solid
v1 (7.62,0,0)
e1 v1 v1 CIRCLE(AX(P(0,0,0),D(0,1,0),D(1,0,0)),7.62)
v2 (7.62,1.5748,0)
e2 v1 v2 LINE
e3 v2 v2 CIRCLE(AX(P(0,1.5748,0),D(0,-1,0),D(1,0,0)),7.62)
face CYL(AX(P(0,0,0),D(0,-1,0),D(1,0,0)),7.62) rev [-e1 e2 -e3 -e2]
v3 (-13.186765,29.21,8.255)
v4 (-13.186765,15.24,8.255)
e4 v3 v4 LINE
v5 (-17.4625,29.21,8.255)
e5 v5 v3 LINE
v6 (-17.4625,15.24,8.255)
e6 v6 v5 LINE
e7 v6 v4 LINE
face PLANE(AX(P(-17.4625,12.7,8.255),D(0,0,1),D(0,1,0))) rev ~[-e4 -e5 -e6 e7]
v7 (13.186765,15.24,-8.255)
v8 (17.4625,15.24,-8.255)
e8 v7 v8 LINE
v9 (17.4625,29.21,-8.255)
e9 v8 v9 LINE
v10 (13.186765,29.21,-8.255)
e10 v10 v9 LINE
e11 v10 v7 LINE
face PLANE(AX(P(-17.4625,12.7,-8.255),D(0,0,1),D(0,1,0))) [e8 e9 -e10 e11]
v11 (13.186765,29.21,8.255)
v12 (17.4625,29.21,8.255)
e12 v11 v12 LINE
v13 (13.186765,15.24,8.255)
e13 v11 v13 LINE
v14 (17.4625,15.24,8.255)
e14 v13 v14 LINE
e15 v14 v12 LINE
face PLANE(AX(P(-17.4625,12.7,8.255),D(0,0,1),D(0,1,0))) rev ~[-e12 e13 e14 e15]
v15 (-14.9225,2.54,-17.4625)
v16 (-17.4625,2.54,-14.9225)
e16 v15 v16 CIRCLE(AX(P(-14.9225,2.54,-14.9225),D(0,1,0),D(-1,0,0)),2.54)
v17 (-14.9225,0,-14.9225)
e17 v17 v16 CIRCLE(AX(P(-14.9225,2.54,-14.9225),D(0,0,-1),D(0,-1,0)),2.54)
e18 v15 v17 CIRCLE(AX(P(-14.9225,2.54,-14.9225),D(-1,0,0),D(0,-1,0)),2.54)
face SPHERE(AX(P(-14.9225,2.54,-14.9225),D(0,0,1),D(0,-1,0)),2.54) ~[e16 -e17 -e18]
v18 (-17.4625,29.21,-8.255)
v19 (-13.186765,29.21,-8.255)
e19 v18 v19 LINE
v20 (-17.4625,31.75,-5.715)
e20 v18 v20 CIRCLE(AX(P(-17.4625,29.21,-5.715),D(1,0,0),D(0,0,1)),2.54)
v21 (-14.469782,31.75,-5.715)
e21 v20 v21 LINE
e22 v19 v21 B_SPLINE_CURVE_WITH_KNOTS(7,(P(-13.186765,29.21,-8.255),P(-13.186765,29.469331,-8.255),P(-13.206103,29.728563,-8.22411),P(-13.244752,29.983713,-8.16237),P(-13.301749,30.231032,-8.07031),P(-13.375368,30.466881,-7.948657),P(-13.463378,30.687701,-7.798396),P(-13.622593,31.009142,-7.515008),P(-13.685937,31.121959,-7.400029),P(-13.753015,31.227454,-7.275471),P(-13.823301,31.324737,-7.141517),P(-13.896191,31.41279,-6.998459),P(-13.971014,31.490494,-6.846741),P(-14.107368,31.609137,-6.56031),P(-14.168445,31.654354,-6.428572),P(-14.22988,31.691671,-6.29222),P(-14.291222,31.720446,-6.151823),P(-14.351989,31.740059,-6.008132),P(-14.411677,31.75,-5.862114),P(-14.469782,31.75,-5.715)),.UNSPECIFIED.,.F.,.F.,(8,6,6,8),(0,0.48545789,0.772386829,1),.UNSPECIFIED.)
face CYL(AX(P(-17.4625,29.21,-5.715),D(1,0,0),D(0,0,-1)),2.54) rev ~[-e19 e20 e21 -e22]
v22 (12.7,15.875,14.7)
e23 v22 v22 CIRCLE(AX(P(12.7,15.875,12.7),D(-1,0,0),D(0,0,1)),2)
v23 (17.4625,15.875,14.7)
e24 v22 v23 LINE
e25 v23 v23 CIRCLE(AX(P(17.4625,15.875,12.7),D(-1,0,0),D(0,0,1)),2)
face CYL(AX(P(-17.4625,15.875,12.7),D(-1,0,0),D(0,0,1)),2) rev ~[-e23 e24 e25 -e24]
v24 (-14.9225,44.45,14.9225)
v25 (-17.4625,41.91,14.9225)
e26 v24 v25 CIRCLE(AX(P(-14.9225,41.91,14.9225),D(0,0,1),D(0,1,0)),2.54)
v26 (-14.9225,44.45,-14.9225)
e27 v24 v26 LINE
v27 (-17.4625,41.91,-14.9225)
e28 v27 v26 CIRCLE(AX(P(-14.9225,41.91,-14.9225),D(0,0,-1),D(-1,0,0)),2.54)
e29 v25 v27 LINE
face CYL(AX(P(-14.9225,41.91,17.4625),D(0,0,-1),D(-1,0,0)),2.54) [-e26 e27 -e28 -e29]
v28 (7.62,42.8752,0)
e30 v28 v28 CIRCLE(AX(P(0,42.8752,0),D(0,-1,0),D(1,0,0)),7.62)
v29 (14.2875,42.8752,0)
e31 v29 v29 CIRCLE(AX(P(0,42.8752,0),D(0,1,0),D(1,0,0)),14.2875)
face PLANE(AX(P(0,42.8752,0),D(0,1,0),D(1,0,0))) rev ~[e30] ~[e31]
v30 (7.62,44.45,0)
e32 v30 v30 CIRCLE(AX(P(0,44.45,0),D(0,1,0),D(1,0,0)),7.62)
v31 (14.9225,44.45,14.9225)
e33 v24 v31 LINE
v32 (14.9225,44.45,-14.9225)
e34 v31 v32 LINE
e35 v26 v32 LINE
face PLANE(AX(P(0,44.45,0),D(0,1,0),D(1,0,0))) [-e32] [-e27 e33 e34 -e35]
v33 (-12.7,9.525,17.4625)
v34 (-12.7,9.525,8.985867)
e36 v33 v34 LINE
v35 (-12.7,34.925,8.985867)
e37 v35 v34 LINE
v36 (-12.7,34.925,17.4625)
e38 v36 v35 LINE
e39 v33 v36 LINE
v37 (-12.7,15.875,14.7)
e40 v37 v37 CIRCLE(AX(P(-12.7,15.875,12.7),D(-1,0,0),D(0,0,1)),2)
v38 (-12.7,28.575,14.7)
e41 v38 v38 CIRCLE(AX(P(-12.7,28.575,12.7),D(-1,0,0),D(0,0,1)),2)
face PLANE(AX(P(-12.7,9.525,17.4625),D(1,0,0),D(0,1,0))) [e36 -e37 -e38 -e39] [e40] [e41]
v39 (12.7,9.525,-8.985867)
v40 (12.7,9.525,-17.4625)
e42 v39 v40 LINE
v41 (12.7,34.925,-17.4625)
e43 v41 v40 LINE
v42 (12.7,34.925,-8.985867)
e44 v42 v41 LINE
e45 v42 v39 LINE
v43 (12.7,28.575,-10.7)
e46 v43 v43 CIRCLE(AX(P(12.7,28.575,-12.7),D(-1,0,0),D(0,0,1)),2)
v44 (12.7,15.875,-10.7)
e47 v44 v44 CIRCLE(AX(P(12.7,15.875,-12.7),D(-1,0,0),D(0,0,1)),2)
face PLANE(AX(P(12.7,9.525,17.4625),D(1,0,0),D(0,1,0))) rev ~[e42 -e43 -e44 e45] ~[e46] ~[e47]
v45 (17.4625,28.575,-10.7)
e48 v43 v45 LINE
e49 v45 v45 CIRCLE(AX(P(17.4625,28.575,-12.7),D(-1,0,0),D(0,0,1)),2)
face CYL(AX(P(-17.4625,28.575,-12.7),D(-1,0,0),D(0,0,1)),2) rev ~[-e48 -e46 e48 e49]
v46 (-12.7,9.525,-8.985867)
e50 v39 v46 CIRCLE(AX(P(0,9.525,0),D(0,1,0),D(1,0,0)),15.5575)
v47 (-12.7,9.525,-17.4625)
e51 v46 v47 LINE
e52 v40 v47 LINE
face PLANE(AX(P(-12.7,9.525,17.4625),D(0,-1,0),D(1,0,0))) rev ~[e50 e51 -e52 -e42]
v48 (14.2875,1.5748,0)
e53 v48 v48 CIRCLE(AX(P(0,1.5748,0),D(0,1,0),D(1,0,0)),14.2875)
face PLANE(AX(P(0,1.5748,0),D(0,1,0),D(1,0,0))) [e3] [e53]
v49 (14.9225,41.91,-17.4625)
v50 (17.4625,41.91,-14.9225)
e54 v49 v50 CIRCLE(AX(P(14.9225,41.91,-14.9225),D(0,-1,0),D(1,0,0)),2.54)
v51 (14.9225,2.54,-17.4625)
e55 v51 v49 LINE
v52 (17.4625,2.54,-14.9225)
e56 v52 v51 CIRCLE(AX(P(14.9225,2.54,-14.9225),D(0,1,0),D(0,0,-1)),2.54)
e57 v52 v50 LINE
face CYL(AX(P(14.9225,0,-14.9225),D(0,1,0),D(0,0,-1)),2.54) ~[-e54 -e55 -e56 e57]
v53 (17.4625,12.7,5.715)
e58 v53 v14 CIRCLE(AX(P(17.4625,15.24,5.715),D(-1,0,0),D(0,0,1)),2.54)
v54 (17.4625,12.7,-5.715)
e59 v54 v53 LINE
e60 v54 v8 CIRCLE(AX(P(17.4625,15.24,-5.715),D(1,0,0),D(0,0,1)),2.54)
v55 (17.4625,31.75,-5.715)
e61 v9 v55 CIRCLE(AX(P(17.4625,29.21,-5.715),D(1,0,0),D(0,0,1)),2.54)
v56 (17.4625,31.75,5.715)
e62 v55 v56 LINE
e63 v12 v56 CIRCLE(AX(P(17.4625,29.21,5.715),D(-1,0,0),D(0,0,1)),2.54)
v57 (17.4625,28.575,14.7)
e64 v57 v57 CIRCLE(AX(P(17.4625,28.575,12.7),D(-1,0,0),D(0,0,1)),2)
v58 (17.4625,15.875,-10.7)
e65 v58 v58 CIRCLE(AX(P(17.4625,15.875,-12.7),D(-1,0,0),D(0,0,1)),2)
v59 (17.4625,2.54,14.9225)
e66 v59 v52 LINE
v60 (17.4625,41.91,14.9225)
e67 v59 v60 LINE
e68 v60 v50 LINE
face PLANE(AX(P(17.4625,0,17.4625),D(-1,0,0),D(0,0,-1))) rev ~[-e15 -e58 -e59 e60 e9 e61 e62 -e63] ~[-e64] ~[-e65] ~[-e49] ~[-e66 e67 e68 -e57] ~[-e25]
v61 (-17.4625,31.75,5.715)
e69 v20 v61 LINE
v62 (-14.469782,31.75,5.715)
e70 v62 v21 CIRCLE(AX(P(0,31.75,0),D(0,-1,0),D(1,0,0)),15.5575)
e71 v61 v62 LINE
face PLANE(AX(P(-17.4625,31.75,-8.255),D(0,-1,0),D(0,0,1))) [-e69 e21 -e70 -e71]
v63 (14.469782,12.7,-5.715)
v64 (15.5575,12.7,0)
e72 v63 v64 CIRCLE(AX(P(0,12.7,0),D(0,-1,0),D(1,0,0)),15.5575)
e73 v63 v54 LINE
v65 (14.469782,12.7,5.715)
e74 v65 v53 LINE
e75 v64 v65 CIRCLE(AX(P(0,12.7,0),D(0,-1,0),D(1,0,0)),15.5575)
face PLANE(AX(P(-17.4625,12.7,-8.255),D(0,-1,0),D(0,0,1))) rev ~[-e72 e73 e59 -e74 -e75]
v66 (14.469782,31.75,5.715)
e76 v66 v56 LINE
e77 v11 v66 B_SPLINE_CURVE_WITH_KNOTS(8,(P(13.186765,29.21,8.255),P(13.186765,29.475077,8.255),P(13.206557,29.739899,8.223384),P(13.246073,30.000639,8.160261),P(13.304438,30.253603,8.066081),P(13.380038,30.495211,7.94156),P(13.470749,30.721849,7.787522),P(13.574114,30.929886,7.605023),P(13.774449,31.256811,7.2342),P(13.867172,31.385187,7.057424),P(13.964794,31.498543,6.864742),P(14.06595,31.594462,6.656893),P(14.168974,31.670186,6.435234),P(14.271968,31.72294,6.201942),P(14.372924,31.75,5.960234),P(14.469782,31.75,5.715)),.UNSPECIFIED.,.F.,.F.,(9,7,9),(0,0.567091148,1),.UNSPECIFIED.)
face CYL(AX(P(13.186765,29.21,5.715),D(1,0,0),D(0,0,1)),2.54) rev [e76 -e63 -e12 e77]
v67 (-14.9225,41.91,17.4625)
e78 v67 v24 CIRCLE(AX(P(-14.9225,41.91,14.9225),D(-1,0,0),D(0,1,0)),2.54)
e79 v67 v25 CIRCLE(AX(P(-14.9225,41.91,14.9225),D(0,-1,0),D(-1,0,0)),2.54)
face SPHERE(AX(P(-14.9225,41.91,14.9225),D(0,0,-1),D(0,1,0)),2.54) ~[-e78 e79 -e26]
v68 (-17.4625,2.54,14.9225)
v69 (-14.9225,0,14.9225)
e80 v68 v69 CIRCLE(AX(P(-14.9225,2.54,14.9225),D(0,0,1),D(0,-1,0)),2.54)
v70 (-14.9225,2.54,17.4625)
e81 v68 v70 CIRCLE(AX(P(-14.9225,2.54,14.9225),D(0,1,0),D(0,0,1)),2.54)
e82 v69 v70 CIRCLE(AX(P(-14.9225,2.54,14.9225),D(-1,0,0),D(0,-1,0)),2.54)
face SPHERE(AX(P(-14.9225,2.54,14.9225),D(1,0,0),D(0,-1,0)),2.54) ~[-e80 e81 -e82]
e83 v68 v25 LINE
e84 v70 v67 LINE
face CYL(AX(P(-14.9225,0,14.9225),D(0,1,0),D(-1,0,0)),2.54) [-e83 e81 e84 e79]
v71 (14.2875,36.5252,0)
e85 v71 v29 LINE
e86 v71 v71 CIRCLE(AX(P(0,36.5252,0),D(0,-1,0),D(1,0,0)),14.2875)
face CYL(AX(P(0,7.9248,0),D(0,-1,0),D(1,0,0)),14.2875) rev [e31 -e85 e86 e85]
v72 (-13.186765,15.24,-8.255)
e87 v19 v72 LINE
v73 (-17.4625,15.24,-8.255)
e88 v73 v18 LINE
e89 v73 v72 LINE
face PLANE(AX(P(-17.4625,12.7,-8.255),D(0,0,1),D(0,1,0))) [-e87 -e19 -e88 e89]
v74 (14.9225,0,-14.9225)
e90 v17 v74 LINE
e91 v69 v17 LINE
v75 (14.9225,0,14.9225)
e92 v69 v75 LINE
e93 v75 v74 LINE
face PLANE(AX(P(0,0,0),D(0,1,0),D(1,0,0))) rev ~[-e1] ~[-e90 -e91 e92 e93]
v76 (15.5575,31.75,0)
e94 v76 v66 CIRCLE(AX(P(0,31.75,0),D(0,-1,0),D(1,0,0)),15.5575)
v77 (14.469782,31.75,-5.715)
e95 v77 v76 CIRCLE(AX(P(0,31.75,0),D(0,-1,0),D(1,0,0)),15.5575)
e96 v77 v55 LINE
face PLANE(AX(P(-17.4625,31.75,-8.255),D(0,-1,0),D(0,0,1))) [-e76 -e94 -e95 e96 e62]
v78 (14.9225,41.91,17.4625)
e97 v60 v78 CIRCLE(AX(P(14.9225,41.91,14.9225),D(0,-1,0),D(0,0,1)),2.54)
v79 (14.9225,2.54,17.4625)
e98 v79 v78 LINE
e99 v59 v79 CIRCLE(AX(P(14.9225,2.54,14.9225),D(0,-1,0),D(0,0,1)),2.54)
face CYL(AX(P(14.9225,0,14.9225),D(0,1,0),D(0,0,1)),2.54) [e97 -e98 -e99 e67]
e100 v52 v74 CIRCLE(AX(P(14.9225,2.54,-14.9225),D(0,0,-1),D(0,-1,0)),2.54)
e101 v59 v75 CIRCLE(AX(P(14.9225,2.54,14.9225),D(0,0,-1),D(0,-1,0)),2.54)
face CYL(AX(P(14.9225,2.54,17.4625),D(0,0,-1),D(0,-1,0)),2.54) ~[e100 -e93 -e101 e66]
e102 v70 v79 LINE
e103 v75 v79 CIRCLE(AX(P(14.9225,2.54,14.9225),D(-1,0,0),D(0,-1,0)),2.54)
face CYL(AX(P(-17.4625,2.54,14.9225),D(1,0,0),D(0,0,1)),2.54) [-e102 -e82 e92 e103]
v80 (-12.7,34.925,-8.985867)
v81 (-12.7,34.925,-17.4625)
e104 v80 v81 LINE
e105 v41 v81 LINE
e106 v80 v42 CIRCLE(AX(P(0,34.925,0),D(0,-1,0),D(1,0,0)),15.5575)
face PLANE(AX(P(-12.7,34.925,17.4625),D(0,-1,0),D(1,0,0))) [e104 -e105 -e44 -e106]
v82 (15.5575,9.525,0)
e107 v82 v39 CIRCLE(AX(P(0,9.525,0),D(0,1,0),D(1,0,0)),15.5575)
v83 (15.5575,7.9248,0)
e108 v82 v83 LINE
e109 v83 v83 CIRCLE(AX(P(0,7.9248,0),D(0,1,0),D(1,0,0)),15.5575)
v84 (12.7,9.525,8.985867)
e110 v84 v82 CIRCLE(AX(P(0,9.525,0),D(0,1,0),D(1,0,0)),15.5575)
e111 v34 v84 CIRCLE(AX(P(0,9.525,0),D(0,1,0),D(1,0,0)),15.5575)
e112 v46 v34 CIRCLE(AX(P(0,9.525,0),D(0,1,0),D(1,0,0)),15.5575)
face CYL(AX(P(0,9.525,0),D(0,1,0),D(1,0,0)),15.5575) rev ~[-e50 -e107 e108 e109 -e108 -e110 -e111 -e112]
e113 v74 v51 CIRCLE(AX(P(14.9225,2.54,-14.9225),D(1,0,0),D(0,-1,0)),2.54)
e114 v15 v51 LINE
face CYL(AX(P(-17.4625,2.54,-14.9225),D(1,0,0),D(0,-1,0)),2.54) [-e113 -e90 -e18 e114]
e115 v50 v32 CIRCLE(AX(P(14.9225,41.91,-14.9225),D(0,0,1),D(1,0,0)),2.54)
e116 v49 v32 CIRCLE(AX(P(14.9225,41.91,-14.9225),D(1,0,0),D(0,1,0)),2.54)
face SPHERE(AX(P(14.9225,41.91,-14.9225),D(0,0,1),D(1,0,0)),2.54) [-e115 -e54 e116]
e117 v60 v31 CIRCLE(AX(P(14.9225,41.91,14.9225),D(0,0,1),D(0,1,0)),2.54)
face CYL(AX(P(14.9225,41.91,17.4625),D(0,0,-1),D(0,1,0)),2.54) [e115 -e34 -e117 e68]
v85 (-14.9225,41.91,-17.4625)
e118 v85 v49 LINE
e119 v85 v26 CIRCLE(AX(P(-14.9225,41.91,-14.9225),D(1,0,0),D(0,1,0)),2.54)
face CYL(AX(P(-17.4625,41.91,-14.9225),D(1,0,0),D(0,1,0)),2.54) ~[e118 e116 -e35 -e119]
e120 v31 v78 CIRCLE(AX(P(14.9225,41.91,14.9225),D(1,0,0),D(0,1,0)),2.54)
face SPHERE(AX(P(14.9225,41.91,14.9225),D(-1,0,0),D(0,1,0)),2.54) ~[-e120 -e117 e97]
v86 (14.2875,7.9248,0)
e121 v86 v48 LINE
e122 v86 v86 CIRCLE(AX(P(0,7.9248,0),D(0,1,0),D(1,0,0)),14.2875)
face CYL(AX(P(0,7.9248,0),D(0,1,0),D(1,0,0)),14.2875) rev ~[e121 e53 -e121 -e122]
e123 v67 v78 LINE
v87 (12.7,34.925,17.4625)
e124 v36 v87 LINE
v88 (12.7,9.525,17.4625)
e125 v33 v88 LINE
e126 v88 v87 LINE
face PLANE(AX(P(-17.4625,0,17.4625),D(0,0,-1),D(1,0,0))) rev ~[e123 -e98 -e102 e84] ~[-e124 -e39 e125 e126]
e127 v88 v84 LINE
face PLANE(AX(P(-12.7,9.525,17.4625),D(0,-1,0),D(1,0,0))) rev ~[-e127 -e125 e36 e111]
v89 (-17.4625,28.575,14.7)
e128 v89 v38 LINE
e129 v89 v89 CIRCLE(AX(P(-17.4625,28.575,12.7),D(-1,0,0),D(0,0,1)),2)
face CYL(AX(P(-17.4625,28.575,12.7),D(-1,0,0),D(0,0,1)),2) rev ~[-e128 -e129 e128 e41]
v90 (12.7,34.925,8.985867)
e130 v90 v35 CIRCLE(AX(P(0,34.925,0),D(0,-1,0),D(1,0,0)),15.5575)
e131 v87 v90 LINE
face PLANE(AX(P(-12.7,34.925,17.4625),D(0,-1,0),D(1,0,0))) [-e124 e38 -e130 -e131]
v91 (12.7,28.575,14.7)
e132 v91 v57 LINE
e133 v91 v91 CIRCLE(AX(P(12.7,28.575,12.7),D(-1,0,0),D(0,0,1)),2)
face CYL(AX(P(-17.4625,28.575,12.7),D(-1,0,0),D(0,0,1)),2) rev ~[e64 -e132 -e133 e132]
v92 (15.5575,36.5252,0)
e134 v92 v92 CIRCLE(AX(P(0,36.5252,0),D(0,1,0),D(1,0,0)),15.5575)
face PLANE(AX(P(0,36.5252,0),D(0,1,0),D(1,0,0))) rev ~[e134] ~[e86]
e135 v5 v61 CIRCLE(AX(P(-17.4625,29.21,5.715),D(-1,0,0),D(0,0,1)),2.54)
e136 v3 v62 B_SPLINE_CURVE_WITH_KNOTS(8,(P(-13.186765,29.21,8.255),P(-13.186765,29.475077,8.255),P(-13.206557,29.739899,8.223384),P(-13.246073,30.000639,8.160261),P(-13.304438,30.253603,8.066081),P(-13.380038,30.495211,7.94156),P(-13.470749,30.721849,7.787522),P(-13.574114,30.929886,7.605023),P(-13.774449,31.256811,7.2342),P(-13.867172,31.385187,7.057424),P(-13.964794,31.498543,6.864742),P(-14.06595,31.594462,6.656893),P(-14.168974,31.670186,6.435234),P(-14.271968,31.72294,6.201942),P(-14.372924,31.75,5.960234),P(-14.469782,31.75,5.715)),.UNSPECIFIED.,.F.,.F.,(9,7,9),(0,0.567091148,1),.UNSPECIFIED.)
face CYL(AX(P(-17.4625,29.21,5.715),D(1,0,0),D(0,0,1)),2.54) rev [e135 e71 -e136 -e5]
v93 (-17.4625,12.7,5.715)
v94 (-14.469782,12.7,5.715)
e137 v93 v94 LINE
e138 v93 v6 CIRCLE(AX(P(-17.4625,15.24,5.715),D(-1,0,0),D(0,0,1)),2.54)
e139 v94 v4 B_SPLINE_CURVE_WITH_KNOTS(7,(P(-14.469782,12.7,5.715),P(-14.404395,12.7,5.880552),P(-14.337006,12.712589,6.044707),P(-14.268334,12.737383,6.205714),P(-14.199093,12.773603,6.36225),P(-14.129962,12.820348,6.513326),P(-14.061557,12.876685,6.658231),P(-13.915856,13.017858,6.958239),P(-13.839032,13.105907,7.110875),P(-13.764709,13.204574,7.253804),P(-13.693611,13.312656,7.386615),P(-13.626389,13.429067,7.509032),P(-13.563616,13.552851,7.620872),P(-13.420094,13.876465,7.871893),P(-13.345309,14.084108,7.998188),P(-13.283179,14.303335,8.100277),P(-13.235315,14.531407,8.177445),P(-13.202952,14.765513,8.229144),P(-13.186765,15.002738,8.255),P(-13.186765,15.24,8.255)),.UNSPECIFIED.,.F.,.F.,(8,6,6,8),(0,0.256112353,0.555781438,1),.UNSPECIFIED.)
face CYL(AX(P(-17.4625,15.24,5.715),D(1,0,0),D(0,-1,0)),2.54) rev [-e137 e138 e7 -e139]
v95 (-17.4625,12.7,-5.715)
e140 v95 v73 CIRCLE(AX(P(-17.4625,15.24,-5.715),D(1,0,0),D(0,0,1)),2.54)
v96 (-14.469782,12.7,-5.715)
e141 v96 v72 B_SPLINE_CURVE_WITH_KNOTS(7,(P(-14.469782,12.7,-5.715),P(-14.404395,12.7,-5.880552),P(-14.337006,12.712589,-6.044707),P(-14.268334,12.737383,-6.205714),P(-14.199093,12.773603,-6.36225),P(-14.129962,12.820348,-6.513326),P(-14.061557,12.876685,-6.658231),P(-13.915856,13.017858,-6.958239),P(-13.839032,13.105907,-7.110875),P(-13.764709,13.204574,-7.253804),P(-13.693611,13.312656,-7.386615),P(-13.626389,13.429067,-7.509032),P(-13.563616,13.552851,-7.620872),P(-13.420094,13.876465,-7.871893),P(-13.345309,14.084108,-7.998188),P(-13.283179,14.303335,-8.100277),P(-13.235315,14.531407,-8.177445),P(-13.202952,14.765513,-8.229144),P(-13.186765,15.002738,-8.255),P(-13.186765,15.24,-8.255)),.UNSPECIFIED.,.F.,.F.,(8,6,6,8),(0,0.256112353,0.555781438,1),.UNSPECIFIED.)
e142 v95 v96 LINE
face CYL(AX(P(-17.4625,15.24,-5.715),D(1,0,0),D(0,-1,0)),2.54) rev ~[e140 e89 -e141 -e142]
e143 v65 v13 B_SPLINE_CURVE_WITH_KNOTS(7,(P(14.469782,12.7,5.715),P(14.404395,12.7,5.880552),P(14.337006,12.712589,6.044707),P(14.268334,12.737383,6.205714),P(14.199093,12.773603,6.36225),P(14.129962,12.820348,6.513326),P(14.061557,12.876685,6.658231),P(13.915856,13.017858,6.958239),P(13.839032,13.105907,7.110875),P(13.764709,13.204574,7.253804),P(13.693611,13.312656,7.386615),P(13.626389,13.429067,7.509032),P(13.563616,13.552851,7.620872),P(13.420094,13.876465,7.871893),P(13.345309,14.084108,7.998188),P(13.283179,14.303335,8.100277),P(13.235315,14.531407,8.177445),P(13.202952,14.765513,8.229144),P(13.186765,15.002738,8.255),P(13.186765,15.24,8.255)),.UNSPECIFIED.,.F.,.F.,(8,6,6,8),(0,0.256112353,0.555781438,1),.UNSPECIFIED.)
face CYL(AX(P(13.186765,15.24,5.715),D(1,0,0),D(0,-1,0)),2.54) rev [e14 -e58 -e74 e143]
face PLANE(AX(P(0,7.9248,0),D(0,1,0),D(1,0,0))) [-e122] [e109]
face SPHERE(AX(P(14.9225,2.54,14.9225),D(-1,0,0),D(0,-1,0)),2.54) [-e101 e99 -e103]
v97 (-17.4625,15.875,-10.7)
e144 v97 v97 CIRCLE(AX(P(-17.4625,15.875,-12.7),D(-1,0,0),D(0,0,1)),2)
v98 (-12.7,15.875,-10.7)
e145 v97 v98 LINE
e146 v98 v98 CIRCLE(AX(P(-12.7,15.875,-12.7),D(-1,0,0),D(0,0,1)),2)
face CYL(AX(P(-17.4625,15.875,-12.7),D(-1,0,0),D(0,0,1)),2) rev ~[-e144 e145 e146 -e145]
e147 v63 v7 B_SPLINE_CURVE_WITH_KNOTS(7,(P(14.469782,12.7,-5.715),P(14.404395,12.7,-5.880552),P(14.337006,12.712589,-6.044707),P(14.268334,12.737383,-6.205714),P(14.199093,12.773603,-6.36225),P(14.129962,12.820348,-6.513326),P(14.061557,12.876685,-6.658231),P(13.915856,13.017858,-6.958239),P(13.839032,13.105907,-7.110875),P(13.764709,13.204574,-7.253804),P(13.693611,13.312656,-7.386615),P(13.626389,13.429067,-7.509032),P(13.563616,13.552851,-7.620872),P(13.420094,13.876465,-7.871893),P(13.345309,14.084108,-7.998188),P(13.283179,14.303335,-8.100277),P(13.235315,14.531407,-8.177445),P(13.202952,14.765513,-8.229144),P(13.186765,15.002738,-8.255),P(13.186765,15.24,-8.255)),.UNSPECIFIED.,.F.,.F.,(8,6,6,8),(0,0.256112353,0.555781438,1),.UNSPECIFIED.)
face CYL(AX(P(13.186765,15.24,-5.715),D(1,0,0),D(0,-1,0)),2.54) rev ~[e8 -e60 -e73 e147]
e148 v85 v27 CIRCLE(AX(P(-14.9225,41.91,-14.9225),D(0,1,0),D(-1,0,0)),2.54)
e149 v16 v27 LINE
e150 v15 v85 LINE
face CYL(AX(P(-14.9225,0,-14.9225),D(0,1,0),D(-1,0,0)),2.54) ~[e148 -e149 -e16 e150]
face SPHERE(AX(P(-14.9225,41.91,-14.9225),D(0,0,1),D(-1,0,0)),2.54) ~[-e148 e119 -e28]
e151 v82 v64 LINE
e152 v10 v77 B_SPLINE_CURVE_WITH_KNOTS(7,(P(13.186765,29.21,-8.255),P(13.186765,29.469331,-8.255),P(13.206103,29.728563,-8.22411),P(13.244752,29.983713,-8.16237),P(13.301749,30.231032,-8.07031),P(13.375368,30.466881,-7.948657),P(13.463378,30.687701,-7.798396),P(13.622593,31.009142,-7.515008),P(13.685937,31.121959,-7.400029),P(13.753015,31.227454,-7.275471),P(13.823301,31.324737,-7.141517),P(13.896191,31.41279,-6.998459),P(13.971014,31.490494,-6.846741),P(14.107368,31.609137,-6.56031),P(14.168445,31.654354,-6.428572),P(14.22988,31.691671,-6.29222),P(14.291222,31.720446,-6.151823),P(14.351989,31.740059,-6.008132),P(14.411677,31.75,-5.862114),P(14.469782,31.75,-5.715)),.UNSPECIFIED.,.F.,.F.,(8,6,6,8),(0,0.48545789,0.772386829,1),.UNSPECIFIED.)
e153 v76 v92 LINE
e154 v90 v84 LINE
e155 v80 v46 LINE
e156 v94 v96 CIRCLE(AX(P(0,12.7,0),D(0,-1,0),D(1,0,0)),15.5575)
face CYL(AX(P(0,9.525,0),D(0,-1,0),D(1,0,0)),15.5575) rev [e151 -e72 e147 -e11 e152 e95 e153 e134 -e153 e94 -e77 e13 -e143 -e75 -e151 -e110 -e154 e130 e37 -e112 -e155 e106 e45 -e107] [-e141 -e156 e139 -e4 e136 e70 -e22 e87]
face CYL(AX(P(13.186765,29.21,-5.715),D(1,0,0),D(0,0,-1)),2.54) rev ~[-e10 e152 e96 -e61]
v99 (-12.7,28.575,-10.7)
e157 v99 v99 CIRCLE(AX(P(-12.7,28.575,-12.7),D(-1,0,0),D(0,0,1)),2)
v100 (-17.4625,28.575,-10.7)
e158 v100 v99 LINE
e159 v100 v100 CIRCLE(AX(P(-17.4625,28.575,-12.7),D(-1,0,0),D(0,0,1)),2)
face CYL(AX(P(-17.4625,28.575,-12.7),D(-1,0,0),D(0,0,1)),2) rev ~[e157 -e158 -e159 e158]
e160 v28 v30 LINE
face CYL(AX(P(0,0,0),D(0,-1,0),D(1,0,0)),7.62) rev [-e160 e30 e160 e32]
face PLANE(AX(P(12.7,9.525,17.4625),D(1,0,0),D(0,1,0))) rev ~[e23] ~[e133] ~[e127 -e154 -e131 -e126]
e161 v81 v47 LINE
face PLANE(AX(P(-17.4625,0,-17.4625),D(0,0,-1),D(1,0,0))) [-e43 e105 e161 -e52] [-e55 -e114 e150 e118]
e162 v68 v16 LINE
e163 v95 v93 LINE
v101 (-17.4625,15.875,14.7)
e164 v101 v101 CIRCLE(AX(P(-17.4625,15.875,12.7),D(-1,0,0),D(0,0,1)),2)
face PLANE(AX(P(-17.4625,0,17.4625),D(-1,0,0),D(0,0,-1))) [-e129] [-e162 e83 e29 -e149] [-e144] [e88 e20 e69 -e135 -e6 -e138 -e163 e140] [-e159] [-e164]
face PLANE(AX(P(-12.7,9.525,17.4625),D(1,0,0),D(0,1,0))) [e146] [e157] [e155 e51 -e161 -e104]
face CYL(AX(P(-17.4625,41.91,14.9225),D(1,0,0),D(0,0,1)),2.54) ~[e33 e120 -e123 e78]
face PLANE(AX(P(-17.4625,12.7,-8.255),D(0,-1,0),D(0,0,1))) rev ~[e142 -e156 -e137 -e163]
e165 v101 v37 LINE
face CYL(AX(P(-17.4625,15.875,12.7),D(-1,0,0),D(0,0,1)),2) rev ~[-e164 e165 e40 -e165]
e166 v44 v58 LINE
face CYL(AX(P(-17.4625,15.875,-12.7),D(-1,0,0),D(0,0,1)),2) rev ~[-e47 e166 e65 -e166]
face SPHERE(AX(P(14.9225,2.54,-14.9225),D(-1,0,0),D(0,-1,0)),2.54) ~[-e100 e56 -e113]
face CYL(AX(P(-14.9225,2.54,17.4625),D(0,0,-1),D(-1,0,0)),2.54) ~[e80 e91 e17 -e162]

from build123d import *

# Parameters (mm, degrees)
SKETCH1_W               = 34.925
SKETCH1_H               = 34.925
SKETCH1_R               = 7.62
BOSS_EXTRUDE1_DEPTH     = 44.45
SKETCH2_W               = 25.4
SKETCH2_H               = 25.4
CUT_EXTRUDE1_DEPTH      = 44.45
SKETCH3_R               = 15.5575
CUT_EXTRUDE2_DEPTH      = 27.0002
CUT_EXTRUDE2_DEPTH_BACK = 1.6002
SKETCH4_R               = 14.2875
CUT_EXTRUDE3_DEPTH      = 34.9504
CUT_EXTRUDE3_DEPTH_BACK = 6.35
SKETCH5_W               = 16.51
SKETCH5_H               = 19.05
CUT_EXTRUDE4_DEPTH      = 228.6
SKETCH6_R               = 2
CUT_EXTRUDE5_DEPTH      = 228.6
FILLET1_R               = 2.54


with BuildPart() as part:
    # Sketch1 → Boss-Extrude1 (new body)
    with BuildSketch(Plane(origin=(0, 0, 0), x_dir=(1, 0, 0), z_dir=(0, 1, 0))):
        Rectangle(SKETCH1_W, SKETCH1_H)
        Circle(SKETCH1_R, mode=Mode.SUBTRACT)
    extrude(amount=BOSS_EXTRUDE1_DEPTH)

    # Sketch2 → Cut-Extrude1 (cut)
    with BuildSketch(Plane.XY.offset(17.4625)):
        with Locations((0, 22.225)):
            Rectangle(SKETCH2_W, SKETCH2_H)
    extrude(amount=-CUT_EXTRUDE1_DEPTH, mode=Mode.SUBTRACT)

    # Sketch3 → Cut-Extrude2 (cut, two sides)
    with BuildSketch(Plane(origin=(0, 9.525, 0), x_dir=(1, 0, 0), z_dir=(0, 1, 0))) as cut_extrude2_sk:
        Circle(SKETCH3_R)
    extrude(amount=CUT_EXTRUDE2_DEPTH, mode=Mode.SUBTRACT)
    extrude(cut_extrude2_sk.sketch, amount=-CUT_EXTRUDE2_DEPTH_BACK, mode=Mode.SUBTRACT)

    # Sketch4 → Cut-Extrude3 (cut, two sides)
    with BuildSketch(Plane(origin=(0, 7.9248, 0), x_dir=(1, 0, 0), z_dir=(0, 1, 0))) as cut_extrude3_sk:
        Circle(SKETCH4_R)
    extrude(amount=CUT_EXTRUDE3_DEPTH, mode=Mode.SUBTRACT)
    extrude(cut_extrude3_sk.sketch, amount=-CUT_EXTRUDE3_DEPTH_BACK, mode=Mode.SUBTRACT)

    # Sketch5 → Cut-Extrude4 (cut)
    with BuildSketch(Plane.ZY.offset(17.4625)):
        with Locations((0, 22.225)):
            Rectangle(SKETCH5_W, SKETCH5_H)
    extrude(amount=-CUT_EXTRUDE4_DEPTH, mode=Mode.SUBTRACT)

    # Sketch6 → Cut-Extrude5 (cut)
    with BuildSketch(Plane.ZY.offset(17.4625)):
        with Locations((-12.7, 28.575)):
            Circle(SKETCH6_R)
        with Locations((-12.7, 15.875)):
            Circle(SKETCH6_R)
        with Locations((12.7, 15.875)):
            Circle(SKETCH6_R)
        with Locations((12.7, 28.575)):
            Circle(SKETCH6_R)
    extrude(amount=-CUT_EXTRUDE5_DEPTH, mode=Mode.SUBTRACT)

    # Fillet1
    fillet1_edges = [part.edges().sort_by_distance(p)[0] for p in [
        (-17.4625, 44.45, 0),
        (0, 44.45, 17.4625),
        (17.4625, 44.45, 0),
        (0, 0, 17.4625),
        (-17.4625, 0, 0),
        (0, 0, -17.4625),
        (17.4625, 0, 0),
        (15.324632691, 31.75, 8.255),
        (-15.324632691, 31.75, 8.255),
        (15.324632691, 12.7, 8.255),
        (17.4625, 22.225, 17.4625),
        (15.324632691, 12.7, -8.255),
        (15.324632691, 31.75, -8.255),
        (-17.4625, 22.225, 17.4625),
        (-17.4625, 22.225, -17.4625),
        (-15.324632691, 12.7, 8.255),
        (-15.324632691, 12.7, -8.255),
        (-15.324632691, 31.75, -8.255),
        (17.4625, 22.225, -17.4625),
        (0, 44.45, -17.4625),
    ]]
    fillet(fillet1_edges, radius=FILLET1_R)


solid = part.part
